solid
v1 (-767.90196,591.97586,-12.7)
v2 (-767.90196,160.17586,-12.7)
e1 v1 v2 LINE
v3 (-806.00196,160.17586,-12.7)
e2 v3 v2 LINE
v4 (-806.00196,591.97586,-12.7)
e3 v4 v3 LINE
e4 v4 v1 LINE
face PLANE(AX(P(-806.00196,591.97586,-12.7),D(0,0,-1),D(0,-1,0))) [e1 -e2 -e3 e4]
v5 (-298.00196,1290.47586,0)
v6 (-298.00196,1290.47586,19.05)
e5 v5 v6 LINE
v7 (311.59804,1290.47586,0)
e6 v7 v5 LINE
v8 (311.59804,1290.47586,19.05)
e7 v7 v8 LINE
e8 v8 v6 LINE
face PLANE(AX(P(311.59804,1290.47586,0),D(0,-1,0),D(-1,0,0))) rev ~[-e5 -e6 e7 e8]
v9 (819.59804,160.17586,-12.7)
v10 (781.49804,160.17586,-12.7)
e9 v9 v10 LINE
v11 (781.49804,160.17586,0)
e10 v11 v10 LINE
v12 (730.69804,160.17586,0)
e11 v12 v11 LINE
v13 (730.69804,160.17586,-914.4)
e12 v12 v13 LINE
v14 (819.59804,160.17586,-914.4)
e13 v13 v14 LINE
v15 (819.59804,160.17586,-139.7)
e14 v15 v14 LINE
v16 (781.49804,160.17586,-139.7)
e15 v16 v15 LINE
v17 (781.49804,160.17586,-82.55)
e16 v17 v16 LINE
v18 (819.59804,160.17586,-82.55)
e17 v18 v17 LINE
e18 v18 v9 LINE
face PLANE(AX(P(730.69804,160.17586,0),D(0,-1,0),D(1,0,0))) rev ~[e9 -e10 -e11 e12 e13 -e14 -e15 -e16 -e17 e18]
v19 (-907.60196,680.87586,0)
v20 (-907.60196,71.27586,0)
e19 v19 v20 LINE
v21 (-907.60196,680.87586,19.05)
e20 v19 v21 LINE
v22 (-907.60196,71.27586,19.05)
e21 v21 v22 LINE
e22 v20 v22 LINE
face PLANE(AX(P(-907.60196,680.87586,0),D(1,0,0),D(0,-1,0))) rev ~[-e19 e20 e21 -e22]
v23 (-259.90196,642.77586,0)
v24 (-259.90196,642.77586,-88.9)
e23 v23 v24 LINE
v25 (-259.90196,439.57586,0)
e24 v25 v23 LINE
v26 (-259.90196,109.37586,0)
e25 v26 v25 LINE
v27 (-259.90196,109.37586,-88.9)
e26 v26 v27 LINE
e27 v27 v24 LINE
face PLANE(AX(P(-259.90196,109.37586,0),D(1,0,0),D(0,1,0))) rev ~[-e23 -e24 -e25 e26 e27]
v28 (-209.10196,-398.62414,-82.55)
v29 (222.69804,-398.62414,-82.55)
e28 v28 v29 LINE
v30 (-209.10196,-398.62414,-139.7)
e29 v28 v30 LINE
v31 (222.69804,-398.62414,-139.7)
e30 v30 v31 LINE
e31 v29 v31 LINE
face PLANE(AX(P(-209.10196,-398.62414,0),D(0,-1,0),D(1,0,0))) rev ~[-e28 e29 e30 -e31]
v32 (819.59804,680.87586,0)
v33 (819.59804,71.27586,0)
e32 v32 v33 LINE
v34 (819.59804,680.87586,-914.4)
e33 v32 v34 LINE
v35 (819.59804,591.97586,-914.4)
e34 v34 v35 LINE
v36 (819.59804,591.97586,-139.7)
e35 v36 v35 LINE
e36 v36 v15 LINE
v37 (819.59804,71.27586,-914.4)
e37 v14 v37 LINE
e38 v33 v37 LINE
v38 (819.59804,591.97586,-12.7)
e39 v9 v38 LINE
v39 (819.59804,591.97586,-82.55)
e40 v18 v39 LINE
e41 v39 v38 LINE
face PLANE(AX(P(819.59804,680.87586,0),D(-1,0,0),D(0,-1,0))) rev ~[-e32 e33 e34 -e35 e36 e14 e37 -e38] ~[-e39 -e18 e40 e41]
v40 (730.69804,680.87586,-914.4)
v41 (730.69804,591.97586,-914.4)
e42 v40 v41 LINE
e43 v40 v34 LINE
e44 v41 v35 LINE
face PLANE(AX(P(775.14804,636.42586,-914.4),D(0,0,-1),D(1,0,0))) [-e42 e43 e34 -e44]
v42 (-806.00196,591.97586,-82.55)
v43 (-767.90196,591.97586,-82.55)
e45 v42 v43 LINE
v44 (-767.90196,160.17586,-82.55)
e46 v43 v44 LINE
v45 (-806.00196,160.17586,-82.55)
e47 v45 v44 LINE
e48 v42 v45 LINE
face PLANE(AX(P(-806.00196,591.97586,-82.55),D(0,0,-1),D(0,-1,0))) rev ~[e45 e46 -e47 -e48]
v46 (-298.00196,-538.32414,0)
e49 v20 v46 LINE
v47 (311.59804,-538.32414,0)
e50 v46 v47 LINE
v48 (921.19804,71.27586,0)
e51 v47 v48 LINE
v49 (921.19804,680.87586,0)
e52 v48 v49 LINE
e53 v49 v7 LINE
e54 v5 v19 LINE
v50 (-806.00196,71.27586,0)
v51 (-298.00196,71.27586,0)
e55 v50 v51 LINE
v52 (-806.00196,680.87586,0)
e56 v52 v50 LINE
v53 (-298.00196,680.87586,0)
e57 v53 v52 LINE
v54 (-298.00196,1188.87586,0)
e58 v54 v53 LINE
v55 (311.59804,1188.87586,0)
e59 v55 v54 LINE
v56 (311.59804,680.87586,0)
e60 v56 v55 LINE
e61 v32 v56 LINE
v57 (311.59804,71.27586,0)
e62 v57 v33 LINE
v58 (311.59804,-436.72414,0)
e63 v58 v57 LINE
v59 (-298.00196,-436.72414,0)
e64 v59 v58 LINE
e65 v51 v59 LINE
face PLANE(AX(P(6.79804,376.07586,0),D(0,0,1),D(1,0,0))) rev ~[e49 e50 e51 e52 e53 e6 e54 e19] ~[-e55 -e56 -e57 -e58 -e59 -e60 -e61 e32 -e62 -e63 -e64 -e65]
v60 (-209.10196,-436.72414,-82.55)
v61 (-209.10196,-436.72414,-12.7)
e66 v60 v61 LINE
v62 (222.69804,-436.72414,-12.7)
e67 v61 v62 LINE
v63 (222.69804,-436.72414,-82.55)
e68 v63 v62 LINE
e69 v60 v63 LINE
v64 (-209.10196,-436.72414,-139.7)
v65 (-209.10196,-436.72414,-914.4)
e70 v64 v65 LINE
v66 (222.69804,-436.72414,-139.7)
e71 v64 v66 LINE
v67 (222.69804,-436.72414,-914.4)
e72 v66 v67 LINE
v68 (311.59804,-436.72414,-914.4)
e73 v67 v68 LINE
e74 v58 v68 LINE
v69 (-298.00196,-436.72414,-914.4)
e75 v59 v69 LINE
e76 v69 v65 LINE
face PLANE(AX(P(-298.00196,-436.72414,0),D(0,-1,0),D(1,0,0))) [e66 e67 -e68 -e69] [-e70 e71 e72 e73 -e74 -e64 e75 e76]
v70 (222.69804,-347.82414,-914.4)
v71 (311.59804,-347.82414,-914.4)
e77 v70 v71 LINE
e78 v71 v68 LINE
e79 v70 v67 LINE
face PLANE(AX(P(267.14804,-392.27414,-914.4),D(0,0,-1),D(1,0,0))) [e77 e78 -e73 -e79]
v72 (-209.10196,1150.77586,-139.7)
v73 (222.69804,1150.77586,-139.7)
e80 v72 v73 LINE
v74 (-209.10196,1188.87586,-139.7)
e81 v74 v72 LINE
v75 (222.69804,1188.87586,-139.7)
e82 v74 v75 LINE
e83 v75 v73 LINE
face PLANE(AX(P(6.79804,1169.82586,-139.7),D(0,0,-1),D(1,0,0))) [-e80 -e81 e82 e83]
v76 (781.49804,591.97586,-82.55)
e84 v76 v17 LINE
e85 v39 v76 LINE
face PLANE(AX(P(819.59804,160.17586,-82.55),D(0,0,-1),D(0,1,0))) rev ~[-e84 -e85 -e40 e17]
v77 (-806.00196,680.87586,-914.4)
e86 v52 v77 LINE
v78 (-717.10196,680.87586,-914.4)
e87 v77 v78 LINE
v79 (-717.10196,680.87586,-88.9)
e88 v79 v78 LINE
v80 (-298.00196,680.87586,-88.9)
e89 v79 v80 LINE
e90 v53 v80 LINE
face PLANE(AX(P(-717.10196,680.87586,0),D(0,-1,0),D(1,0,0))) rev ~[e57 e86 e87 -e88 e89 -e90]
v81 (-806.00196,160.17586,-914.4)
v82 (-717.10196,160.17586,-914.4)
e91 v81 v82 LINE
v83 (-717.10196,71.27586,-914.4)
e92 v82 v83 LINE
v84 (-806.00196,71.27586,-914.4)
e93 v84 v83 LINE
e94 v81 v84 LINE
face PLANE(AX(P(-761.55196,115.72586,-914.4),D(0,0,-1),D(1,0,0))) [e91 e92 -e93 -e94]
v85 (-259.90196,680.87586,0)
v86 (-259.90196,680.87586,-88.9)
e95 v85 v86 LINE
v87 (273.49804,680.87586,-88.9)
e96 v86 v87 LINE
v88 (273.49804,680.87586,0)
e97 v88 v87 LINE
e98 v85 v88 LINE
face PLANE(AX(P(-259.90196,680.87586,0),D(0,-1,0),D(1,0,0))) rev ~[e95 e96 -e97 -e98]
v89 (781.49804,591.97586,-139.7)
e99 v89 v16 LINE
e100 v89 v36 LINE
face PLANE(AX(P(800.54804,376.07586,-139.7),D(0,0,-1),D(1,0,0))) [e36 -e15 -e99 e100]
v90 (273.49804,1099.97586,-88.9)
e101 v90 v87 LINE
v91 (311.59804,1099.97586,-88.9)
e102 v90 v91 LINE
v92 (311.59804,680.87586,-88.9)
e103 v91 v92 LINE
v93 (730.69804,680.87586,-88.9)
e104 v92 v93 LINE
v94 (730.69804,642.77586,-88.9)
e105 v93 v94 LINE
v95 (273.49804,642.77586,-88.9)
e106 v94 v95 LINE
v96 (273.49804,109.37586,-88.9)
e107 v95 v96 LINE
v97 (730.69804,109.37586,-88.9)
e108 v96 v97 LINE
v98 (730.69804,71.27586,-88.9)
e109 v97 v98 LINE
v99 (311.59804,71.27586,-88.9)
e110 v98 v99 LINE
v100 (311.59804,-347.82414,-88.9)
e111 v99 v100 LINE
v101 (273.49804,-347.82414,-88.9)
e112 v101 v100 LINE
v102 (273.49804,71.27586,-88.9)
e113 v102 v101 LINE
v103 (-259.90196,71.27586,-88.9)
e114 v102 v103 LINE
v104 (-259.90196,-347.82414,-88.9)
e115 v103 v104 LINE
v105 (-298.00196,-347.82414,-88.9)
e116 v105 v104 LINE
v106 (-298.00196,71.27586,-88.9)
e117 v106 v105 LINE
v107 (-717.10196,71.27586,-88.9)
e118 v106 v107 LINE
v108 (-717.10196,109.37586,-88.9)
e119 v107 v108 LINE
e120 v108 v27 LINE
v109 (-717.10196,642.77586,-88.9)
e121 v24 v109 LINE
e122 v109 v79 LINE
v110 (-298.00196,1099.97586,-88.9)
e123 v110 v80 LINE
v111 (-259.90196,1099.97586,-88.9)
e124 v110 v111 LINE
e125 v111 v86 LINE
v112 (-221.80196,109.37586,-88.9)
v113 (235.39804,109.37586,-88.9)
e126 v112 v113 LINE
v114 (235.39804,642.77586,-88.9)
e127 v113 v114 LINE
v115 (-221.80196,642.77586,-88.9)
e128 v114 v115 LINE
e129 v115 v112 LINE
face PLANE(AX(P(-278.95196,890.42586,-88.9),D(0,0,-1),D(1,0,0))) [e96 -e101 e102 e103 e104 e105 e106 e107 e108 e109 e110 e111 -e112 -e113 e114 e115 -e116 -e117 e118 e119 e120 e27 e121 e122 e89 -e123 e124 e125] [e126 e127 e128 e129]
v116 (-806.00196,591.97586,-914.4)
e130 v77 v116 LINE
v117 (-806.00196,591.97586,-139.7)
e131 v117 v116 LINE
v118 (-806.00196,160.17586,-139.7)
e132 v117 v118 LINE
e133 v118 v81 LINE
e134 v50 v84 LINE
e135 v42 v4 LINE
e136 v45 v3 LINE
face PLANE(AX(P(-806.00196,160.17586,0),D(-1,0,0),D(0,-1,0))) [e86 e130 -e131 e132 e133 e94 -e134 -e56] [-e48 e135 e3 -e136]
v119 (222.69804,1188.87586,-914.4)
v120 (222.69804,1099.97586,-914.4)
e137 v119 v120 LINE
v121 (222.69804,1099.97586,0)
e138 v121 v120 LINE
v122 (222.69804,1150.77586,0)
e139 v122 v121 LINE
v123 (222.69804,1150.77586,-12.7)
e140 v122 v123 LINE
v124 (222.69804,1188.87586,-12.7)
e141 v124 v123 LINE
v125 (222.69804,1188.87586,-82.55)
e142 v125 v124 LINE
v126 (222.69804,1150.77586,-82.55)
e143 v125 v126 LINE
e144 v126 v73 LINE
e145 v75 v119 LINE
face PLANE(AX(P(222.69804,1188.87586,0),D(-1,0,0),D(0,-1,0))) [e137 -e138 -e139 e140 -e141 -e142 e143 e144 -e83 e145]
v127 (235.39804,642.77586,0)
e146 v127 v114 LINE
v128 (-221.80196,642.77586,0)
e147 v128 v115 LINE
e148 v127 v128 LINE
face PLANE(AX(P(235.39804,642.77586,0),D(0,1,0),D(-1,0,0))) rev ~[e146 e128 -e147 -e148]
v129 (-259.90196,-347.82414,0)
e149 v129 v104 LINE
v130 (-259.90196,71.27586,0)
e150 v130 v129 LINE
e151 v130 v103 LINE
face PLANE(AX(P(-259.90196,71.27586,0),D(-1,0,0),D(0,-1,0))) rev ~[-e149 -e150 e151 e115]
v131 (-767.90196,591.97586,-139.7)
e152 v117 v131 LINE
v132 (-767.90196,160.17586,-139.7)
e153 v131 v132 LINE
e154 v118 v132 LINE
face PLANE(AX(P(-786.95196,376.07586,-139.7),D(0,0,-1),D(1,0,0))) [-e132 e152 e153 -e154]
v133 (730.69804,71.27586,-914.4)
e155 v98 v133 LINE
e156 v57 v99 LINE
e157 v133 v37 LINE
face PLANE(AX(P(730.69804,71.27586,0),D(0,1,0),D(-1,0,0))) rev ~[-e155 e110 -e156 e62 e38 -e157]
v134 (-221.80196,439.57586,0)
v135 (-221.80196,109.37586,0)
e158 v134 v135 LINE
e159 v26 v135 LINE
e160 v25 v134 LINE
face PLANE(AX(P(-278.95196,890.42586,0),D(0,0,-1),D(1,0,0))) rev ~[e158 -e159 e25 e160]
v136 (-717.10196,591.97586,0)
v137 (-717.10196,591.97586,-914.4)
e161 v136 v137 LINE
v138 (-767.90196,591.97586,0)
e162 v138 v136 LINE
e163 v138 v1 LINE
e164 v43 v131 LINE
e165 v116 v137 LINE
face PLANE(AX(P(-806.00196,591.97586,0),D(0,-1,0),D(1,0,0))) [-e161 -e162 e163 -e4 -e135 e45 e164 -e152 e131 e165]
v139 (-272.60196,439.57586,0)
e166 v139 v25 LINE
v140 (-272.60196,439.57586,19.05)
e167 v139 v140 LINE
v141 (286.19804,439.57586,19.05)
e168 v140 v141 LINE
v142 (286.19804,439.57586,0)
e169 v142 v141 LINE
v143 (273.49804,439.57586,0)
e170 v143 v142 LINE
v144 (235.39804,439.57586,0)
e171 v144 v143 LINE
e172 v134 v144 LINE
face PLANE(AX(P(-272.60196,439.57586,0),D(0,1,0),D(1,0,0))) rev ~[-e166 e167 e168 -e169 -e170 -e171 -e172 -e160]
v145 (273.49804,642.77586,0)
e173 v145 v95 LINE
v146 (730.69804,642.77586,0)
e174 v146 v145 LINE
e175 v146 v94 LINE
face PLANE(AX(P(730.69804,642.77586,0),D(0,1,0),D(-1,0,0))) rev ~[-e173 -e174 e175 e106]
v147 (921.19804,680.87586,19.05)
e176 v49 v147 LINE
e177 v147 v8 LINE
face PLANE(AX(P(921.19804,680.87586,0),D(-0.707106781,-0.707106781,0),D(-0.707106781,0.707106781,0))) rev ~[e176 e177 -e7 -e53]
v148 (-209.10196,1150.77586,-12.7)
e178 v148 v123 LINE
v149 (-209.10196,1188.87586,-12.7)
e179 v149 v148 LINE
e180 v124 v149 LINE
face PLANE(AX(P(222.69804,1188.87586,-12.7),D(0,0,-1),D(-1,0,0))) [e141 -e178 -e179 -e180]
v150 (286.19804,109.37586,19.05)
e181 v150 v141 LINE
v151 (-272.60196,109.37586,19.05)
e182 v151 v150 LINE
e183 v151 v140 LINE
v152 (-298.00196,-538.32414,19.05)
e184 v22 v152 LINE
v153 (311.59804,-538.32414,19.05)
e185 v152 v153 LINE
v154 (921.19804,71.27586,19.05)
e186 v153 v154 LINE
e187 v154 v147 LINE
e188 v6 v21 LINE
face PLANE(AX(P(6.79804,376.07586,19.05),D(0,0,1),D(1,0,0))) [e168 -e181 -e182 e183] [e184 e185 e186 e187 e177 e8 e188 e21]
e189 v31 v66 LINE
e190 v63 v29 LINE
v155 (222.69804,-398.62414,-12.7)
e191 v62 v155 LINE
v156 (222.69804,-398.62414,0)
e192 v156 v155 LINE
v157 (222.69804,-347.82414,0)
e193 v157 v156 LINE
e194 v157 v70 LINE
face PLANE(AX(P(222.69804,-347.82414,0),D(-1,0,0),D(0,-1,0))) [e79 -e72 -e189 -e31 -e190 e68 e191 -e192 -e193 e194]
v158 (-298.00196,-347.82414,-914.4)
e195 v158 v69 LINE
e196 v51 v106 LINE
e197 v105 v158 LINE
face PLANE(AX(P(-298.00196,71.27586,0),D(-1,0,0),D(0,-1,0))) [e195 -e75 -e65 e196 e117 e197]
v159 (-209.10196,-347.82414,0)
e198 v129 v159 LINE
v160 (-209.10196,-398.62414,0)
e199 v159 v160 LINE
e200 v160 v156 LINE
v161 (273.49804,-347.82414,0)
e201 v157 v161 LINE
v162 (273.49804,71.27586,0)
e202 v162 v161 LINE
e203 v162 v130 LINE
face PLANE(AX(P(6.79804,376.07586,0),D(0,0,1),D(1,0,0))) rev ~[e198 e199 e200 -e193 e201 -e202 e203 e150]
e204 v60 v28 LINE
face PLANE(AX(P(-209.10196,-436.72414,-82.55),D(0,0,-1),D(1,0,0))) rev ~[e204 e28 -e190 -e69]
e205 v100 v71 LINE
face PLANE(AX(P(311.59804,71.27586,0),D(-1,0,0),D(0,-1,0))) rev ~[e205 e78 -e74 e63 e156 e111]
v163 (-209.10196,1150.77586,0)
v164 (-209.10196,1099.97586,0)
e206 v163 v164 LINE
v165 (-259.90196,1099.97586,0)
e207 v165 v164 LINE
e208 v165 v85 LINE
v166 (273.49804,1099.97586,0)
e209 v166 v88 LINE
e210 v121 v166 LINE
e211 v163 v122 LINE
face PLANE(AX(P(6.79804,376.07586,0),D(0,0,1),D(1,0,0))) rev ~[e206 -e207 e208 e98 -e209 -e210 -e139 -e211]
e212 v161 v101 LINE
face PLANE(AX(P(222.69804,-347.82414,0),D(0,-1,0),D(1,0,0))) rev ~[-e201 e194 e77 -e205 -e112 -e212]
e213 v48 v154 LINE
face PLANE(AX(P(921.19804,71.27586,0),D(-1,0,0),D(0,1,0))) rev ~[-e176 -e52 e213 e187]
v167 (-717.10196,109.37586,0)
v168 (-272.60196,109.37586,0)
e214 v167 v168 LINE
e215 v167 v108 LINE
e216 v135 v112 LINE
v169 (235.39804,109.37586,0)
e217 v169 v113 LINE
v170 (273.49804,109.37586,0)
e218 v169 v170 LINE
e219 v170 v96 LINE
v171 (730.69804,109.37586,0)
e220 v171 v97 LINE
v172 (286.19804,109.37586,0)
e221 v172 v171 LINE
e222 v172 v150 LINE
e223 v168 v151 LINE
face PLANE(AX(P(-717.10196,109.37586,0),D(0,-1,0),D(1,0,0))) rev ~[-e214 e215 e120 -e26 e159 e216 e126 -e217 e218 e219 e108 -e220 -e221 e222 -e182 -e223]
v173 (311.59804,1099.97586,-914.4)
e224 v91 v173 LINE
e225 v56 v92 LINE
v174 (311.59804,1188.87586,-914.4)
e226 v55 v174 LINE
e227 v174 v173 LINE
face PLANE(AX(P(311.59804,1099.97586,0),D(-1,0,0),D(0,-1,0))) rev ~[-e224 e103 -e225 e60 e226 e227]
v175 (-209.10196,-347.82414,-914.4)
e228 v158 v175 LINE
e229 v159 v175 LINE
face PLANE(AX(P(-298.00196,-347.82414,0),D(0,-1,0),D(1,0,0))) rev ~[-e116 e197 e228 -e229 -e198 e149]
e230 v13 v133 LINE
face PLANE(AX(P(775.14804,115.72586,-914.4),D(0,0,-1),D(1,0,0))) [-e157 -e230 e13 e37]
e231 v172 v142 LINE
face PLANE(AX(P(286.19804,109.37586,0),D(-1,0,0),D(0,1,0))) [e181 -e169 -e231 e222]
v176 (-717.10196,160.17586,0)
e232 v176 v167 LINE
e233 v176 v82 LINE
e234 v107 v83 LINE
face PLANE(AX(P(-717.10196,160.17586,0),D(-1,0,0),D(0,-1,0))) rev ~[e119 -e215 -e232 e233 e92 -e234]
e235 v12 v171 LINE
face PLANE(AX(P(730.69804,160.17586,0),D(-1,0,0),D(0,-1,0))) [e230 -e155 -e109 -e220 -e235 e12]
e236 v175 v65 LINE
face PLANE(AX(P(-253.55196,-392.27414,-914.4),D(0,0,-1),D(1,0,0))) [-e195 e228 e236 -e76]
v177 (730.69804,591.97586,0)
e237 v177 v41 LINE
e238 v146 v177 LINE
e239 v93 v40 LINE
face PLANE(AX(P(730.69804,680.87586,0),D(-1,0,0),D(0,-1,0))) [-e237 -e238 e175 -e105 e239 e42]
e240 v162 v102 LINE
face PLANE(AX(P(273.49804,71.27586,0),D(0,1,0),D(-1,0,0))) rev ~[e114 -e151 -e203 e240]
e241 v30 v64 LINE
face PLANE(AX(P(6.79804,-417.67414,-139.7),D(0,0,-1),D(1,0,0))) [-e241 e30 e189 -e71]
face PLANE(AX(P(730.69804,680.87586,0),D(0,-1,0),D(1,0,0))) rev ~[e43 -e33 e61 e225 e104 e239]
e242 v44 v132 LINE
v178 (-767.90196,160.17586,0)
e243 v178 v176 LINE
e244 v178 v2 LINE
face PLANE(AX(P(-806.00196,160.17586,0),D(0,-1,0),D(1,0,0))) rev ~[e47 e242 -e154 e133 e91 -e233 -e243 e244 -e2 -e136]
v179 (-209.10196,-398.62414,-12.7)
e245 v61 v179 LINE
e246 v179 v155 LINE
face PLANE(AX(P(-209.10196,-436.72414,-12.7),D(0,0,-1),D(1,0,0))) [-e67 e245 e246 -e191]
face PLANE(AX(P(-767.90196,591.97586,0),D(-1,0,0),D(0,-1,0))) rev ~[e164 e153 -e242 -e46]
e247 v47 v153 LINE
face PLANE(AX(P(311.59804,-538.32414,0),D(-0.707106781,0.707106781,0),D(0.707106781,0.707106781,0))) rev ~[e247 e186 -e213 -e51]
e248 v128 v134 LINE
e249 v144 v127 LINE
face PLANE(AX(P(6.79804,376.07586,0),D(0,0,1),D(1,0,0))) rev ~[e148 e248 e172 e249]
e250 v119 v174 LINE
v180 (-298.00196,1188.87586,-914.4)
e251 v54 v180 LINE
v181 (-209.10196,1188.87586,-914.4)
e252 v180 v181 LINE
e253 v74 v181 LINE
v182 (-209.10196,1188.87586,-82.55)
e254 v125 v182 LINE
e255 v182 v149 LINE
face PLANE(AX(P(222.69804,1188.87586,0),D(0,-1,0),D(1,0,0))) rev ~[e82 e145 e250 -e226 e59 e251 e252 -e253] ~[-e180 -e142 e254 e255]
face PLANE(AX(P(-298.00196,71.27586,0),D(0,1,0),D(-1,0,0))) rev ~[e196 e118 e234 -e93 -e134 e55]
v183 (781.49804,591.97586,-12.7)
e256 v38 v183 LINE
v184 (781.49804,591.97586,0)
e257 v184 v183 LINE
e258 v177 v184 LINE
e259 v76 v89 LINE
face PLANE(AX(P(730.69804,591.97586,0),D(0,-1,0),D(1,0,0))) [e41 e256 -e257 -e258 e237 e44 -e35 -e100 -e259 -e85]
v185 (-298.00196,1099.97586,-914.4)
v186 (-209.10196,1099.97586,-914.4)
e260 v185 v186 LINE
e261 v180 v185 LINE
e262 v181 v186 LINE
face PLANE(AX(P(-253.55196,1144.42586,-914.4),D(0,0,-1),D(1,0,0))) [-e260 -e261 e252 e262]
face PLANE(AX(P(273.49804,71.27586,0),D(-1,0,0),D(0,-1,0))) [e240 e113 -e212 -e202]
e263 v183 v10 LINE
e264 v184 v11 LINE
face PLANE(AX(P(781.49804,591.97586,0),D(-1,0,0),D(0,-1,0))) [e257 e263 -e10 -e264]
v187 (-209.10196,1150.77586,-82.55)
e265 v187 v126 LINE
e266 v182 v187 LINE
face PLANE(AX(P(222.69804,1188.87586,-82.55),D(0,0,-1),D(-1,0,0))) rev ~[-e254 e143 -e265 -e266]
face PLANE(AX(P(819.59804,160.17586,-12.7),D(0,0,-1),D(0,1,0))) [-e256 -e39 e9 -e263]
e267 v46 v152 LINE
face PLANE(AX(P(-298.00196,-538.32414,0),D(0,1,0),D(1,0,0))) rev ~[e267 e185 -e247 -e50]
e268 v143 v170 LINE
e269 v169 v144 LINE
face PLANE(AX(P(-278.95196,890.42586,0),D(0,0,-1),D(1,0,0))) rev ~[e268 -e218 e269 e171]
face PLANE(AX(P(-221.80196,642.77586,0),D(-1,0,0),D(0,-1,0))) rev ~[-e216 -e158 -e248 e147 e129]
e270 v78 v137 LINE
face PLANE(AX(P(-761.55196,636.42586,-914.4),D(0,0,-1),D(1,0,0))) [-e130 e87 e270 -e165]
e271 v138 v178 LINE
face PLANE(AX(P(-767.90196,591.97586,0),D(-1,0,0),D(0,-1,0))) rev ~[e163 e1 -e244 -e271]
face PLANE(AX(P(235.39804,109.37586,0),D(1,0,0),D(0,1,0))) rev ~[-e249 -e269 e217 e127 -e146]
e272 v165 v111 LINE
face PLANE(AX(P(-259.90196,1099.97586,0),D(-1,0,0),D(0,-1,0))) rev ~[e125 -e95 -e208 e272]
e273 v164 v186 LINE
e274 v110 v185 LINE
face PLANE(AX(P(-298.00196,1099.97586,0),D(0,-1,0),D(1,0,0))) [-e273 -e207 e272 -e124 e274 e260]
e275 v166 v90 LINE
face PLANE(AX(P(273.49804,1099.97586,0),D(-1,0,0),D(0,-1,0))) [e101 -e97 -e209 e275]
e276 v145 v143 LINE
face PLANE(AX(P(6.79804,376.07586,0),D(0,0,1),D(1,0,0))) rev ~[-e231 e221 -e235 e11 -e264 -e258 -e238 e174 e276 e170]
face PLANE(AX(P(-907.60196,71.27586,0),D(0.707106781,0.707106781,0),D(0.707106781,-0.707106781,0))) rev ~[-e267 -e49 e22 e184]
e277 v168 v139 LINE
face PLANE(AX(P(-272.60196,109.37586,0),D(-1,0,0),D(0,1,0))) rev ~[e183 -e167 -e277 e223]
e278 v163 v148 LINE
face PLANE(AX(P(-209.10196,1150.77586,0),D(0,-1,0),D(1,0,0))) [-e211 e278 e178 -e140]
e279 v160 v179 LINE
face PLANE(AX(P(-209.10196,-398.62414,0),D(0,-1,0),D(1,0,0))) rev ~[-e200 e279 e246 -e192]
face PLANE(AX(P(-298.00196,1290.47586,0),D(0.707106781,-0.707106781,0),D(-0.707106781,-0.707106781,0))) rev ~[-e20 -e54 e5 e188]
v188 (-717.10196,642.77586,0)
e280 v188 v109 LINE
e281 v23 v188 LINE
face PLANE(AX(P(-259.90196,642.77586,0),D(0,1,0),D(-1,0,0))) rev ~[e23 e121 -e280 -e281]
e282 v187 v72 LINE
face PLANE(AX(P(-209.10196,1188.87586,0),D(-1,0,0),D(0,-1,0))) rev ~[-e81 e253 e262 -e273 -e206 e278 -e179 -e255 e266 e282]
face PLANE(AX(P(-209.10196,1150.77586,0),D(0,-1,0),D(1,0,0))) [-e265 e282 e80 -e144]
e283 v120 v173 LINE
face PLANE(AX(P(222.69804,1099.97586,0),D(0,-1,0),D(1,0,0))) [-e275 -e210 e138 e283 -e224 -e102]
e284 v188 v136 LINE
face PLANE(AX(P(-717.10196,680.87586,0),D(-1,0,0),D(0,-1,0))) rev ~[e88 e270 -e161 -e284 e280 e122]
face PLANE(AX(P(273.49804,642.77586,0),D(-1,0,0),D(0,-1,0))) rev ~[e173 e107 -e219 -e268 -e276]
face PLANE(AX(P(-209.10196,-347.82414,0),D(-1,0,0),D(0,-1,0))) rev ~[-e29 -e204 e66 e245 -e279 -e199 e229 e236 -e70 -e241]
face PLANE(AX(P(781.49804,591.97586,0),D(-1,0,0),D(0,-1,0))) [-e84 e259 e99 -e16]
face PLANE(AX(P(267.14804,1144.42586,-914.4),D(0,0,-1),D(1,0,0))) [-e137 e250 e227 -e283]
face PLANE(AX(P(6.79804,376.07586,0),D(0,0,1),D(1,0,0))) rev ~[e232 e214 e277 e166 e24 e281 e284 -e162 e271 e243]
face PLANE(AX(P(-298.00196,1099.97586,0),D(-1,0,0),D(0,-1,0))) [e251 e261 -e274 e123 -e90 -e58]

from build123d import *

# Parameters (mm, degrees)
F0_W      = 558.8
F0_H      = 330.2
F1_DEPTH  = 19.05
F2_W      = 38.1
F2_H      = 419.1
F2_H_2    = 203.2
F2_H_3    = 330.2
F3_DEPTH  = 88.9
F4_W      = 88.9
F4_H      = 88.9
F5_DEPTH  = 914.4
F6_W      = 38.1
F6_H      = 431.8
F6_W_2    = 431.8
F6_H_2    = 38.1
F7_DEPTH  = 139.7
F8_W      = 431.8
F8_H      = 69.85
F9_DEPTH  = 78.74
F10_W     = 431.8
F10_H     = 69.85
F11_DEPTH = 66.04
F12_W     = 431.8
F12_H     = 69.85
F13_DEPTH = 53.34
F14_W     = 431.8
F14_H     = 69.85
F15_DEPTH = 76.2


with BuildPart() as f1:
    # F0 (on Top) → F1 (new body)
    with BuildSketch(Plane.XY):
        Polygon((-907.6019599199, 71.2758600712), (-298.0019599199, -538.3241399288), (311.5980400801, -538.3241399288), (921.1980400801, 71.2758600712), (921.1980400801, 680.8758600712), (311.5980400801, 1290.4758600712), (-298.0019599199, 1290.4758600712), (-907.6019599199, 680.8758600712), align=None)
        with Locations((6.7980400801, 274.4758600712)):
            Rectangle(F0_W, F0_H, mode=Mode.SUBTRACT)
    extrude(amount=F1_DEPTH)

    # F2 (on face) → F3 (join)
    with BuildSketch(Plane(origin=(0, 0, 0), x_dir=(1, 0, 0), z_dir=(0, 0, -1))):
        with Locations((-278.9519599199, -890.4258600712)):
            Rectangle(F2_W, F2_H)
        with Locations((292.5480400801, -890.4258600712)):
            Rectangle(F2_W, F2_H)
        Polygon((-717.1019599199, -642.7758600712), (-717.1019599199, -680.8758600712), (-298.0019599199, -680.8758600712), (-259.9019599199, -680.8758600712), (273.4980400801, -680.8758600712), (311.5980400801, -680.8758600712), (730.6980400801, -680.8758600712), (730.6980400801, -642.7758600712), (273.4980400801, -642.7758600712), (235.3980400801, -642.7758600712), (-221.8019599199, -642.7758600712), (-259.9019599199, -642.7758600712), align=None)
        with Locations((-240.8519599199, -541.1758600712)):
            Rectangle(F2_W, F2_H_2)
        Polygon((-298.0019599199, -71.2758600712), (-717.1019599199, -71.2758600712), (-717.1019599199, -109.3758600712), (-272.6019599199, -109.3758600712), (-259.9019599199, -109.3758600712), (-221.8019599199, -109.3758600712), (235.3980400801, -109.3758600712), (273.4980400801, -109.3758600712), (286.1980400801, -109.3758600712), (730.6980400801, -109.3758600712), (730.6980400801, -71.2758600712), (311.5980400801, -71.2758600712), (273.4980400801, -71.2758600712), (-259.9019599199, -71.2758600712), align=None)
        with Locations((-278.9519599199, 138.2741399288)):
            Rectangle(F2_W, F2_H)
        with Locations((292.5480400801, 138.2741399288)):
            Rectangle(F2_W, F2_H)
        with Locations((254.4480400801, -541.1758600712)):
            Rectangle(F2_W, F2_H_2)
        with Locations((-240.8519599199, -274.4758600712)):
            Rectangle(F2_W, F2_H_3)
        with Locations((254.4480400801, -274.4758600712)):
            Rectangle(F2_W, F2_H_3)
    extrude(amount=F3_DEPTH)

    # F4 (on face) → F5 (join)
    with BuildSketch(Plane(origin=(0, 0, 0), x_dir=(1, 0, 0), z_dir=(0, 0, -1))):
        with Locations((775.1480400801, -636.4258600712)):
            Rectangle(F4_W, F4_H)
        with Locations((775.1480400801, -115.7258600712)):
            Rectangle(F4_W, F4_H)
        with Locations((267.1480400801, -1144.4258600712)):
            Rectangle(F4_W, F4_H)
        with Locations((-761.5519599199, -636.4258600712)):
            Rectangle(F4_W, F4_H)
        with Locations((-253.5519599199, -1144.4258600712)):
            Rectangle(F4_W, F4_H)
        with Locations((267.1480400801, 392.2741399288)):
            Rectangle(F4_W, F4_H)
        with Locations((-253.5519599199, 392.2741399288)):
            Rectangle(F4_W, F4_H)
        with Locations((-761.5519599199, -115.7258600712)):
            Rectangle(F4_W, F4_H)
    extrude(amount=F5_DEPTH)

    # F6 (on face) → F7 (join)
    with BuildSketch(Plane(origin=(0, 0, 0), x_dir=(1, 0, 0), z_dir=(0, 0, -1))):
        with Locations((800.5480400801, -376.0758600712)):
            Rectangle(F6_W, F6_H)
        with Locations((-786.9519599199, -376.0758600712)):
            Rectangle(F6_W, F6_H)
        with Locations((6.7980400801, -1169.8258600712)):
            Rectangle(F6_W_2, F6_H_2)
        with Locations((6.7980400801, 417.6741399288)):
            Rectangle(F6_W_2, F6_H_2)
    extrude(amount=F7_DEPTH)

    # F8 (on face) → F9 (cut)
    with BuildSketch(Plane.XZ.offset(436.7241399288)):
        with Locations((6.7980400801, -47.625)):
            Rectangle(F8_W, F8_H)
    extrude(amount=-F9_DEPTH, mode=Mode.SUBTRACT)

    # F10 (on face) → F11 (cut)
    with BuildSketch(Plane(origin=(-806.0019599199, 0, 0), x_dir=(0, -1, 0), z_dir=(-1, 0, 0))):
        with Locations((-376.0758600712, -47.625)):
            Rectangle(F10_W, F10_H)
    extrude(amount=-F11_DEPTH, mode=Mode.SUBTRACT)

    # F12 (on face) → F13 (cut)
    with BuildSketch(Plane.YZ.offset(819.5980400801)):
        with Locations((376.0758600712, -47.625)):
            Rectangle(F12_W, F12_H)
    extrude(amount=-F13_DEPTH, mode=Mode.SUBTRACT)

    # F14 (on face) → F15 (cut)
    with BuildSketch(Plane(origin=(0, 1188.8758600712, 0), x_dir=(-1, 0, 0), z_dir=(0, 1, 0))):
        with Locations((-6.7980400801, -47.625)):
            Rectangle(F14_W, F14_H)
    extrude(amount=-F15_DEPTH, mode=Mode.SUBTRACT)


solid = f1.part
